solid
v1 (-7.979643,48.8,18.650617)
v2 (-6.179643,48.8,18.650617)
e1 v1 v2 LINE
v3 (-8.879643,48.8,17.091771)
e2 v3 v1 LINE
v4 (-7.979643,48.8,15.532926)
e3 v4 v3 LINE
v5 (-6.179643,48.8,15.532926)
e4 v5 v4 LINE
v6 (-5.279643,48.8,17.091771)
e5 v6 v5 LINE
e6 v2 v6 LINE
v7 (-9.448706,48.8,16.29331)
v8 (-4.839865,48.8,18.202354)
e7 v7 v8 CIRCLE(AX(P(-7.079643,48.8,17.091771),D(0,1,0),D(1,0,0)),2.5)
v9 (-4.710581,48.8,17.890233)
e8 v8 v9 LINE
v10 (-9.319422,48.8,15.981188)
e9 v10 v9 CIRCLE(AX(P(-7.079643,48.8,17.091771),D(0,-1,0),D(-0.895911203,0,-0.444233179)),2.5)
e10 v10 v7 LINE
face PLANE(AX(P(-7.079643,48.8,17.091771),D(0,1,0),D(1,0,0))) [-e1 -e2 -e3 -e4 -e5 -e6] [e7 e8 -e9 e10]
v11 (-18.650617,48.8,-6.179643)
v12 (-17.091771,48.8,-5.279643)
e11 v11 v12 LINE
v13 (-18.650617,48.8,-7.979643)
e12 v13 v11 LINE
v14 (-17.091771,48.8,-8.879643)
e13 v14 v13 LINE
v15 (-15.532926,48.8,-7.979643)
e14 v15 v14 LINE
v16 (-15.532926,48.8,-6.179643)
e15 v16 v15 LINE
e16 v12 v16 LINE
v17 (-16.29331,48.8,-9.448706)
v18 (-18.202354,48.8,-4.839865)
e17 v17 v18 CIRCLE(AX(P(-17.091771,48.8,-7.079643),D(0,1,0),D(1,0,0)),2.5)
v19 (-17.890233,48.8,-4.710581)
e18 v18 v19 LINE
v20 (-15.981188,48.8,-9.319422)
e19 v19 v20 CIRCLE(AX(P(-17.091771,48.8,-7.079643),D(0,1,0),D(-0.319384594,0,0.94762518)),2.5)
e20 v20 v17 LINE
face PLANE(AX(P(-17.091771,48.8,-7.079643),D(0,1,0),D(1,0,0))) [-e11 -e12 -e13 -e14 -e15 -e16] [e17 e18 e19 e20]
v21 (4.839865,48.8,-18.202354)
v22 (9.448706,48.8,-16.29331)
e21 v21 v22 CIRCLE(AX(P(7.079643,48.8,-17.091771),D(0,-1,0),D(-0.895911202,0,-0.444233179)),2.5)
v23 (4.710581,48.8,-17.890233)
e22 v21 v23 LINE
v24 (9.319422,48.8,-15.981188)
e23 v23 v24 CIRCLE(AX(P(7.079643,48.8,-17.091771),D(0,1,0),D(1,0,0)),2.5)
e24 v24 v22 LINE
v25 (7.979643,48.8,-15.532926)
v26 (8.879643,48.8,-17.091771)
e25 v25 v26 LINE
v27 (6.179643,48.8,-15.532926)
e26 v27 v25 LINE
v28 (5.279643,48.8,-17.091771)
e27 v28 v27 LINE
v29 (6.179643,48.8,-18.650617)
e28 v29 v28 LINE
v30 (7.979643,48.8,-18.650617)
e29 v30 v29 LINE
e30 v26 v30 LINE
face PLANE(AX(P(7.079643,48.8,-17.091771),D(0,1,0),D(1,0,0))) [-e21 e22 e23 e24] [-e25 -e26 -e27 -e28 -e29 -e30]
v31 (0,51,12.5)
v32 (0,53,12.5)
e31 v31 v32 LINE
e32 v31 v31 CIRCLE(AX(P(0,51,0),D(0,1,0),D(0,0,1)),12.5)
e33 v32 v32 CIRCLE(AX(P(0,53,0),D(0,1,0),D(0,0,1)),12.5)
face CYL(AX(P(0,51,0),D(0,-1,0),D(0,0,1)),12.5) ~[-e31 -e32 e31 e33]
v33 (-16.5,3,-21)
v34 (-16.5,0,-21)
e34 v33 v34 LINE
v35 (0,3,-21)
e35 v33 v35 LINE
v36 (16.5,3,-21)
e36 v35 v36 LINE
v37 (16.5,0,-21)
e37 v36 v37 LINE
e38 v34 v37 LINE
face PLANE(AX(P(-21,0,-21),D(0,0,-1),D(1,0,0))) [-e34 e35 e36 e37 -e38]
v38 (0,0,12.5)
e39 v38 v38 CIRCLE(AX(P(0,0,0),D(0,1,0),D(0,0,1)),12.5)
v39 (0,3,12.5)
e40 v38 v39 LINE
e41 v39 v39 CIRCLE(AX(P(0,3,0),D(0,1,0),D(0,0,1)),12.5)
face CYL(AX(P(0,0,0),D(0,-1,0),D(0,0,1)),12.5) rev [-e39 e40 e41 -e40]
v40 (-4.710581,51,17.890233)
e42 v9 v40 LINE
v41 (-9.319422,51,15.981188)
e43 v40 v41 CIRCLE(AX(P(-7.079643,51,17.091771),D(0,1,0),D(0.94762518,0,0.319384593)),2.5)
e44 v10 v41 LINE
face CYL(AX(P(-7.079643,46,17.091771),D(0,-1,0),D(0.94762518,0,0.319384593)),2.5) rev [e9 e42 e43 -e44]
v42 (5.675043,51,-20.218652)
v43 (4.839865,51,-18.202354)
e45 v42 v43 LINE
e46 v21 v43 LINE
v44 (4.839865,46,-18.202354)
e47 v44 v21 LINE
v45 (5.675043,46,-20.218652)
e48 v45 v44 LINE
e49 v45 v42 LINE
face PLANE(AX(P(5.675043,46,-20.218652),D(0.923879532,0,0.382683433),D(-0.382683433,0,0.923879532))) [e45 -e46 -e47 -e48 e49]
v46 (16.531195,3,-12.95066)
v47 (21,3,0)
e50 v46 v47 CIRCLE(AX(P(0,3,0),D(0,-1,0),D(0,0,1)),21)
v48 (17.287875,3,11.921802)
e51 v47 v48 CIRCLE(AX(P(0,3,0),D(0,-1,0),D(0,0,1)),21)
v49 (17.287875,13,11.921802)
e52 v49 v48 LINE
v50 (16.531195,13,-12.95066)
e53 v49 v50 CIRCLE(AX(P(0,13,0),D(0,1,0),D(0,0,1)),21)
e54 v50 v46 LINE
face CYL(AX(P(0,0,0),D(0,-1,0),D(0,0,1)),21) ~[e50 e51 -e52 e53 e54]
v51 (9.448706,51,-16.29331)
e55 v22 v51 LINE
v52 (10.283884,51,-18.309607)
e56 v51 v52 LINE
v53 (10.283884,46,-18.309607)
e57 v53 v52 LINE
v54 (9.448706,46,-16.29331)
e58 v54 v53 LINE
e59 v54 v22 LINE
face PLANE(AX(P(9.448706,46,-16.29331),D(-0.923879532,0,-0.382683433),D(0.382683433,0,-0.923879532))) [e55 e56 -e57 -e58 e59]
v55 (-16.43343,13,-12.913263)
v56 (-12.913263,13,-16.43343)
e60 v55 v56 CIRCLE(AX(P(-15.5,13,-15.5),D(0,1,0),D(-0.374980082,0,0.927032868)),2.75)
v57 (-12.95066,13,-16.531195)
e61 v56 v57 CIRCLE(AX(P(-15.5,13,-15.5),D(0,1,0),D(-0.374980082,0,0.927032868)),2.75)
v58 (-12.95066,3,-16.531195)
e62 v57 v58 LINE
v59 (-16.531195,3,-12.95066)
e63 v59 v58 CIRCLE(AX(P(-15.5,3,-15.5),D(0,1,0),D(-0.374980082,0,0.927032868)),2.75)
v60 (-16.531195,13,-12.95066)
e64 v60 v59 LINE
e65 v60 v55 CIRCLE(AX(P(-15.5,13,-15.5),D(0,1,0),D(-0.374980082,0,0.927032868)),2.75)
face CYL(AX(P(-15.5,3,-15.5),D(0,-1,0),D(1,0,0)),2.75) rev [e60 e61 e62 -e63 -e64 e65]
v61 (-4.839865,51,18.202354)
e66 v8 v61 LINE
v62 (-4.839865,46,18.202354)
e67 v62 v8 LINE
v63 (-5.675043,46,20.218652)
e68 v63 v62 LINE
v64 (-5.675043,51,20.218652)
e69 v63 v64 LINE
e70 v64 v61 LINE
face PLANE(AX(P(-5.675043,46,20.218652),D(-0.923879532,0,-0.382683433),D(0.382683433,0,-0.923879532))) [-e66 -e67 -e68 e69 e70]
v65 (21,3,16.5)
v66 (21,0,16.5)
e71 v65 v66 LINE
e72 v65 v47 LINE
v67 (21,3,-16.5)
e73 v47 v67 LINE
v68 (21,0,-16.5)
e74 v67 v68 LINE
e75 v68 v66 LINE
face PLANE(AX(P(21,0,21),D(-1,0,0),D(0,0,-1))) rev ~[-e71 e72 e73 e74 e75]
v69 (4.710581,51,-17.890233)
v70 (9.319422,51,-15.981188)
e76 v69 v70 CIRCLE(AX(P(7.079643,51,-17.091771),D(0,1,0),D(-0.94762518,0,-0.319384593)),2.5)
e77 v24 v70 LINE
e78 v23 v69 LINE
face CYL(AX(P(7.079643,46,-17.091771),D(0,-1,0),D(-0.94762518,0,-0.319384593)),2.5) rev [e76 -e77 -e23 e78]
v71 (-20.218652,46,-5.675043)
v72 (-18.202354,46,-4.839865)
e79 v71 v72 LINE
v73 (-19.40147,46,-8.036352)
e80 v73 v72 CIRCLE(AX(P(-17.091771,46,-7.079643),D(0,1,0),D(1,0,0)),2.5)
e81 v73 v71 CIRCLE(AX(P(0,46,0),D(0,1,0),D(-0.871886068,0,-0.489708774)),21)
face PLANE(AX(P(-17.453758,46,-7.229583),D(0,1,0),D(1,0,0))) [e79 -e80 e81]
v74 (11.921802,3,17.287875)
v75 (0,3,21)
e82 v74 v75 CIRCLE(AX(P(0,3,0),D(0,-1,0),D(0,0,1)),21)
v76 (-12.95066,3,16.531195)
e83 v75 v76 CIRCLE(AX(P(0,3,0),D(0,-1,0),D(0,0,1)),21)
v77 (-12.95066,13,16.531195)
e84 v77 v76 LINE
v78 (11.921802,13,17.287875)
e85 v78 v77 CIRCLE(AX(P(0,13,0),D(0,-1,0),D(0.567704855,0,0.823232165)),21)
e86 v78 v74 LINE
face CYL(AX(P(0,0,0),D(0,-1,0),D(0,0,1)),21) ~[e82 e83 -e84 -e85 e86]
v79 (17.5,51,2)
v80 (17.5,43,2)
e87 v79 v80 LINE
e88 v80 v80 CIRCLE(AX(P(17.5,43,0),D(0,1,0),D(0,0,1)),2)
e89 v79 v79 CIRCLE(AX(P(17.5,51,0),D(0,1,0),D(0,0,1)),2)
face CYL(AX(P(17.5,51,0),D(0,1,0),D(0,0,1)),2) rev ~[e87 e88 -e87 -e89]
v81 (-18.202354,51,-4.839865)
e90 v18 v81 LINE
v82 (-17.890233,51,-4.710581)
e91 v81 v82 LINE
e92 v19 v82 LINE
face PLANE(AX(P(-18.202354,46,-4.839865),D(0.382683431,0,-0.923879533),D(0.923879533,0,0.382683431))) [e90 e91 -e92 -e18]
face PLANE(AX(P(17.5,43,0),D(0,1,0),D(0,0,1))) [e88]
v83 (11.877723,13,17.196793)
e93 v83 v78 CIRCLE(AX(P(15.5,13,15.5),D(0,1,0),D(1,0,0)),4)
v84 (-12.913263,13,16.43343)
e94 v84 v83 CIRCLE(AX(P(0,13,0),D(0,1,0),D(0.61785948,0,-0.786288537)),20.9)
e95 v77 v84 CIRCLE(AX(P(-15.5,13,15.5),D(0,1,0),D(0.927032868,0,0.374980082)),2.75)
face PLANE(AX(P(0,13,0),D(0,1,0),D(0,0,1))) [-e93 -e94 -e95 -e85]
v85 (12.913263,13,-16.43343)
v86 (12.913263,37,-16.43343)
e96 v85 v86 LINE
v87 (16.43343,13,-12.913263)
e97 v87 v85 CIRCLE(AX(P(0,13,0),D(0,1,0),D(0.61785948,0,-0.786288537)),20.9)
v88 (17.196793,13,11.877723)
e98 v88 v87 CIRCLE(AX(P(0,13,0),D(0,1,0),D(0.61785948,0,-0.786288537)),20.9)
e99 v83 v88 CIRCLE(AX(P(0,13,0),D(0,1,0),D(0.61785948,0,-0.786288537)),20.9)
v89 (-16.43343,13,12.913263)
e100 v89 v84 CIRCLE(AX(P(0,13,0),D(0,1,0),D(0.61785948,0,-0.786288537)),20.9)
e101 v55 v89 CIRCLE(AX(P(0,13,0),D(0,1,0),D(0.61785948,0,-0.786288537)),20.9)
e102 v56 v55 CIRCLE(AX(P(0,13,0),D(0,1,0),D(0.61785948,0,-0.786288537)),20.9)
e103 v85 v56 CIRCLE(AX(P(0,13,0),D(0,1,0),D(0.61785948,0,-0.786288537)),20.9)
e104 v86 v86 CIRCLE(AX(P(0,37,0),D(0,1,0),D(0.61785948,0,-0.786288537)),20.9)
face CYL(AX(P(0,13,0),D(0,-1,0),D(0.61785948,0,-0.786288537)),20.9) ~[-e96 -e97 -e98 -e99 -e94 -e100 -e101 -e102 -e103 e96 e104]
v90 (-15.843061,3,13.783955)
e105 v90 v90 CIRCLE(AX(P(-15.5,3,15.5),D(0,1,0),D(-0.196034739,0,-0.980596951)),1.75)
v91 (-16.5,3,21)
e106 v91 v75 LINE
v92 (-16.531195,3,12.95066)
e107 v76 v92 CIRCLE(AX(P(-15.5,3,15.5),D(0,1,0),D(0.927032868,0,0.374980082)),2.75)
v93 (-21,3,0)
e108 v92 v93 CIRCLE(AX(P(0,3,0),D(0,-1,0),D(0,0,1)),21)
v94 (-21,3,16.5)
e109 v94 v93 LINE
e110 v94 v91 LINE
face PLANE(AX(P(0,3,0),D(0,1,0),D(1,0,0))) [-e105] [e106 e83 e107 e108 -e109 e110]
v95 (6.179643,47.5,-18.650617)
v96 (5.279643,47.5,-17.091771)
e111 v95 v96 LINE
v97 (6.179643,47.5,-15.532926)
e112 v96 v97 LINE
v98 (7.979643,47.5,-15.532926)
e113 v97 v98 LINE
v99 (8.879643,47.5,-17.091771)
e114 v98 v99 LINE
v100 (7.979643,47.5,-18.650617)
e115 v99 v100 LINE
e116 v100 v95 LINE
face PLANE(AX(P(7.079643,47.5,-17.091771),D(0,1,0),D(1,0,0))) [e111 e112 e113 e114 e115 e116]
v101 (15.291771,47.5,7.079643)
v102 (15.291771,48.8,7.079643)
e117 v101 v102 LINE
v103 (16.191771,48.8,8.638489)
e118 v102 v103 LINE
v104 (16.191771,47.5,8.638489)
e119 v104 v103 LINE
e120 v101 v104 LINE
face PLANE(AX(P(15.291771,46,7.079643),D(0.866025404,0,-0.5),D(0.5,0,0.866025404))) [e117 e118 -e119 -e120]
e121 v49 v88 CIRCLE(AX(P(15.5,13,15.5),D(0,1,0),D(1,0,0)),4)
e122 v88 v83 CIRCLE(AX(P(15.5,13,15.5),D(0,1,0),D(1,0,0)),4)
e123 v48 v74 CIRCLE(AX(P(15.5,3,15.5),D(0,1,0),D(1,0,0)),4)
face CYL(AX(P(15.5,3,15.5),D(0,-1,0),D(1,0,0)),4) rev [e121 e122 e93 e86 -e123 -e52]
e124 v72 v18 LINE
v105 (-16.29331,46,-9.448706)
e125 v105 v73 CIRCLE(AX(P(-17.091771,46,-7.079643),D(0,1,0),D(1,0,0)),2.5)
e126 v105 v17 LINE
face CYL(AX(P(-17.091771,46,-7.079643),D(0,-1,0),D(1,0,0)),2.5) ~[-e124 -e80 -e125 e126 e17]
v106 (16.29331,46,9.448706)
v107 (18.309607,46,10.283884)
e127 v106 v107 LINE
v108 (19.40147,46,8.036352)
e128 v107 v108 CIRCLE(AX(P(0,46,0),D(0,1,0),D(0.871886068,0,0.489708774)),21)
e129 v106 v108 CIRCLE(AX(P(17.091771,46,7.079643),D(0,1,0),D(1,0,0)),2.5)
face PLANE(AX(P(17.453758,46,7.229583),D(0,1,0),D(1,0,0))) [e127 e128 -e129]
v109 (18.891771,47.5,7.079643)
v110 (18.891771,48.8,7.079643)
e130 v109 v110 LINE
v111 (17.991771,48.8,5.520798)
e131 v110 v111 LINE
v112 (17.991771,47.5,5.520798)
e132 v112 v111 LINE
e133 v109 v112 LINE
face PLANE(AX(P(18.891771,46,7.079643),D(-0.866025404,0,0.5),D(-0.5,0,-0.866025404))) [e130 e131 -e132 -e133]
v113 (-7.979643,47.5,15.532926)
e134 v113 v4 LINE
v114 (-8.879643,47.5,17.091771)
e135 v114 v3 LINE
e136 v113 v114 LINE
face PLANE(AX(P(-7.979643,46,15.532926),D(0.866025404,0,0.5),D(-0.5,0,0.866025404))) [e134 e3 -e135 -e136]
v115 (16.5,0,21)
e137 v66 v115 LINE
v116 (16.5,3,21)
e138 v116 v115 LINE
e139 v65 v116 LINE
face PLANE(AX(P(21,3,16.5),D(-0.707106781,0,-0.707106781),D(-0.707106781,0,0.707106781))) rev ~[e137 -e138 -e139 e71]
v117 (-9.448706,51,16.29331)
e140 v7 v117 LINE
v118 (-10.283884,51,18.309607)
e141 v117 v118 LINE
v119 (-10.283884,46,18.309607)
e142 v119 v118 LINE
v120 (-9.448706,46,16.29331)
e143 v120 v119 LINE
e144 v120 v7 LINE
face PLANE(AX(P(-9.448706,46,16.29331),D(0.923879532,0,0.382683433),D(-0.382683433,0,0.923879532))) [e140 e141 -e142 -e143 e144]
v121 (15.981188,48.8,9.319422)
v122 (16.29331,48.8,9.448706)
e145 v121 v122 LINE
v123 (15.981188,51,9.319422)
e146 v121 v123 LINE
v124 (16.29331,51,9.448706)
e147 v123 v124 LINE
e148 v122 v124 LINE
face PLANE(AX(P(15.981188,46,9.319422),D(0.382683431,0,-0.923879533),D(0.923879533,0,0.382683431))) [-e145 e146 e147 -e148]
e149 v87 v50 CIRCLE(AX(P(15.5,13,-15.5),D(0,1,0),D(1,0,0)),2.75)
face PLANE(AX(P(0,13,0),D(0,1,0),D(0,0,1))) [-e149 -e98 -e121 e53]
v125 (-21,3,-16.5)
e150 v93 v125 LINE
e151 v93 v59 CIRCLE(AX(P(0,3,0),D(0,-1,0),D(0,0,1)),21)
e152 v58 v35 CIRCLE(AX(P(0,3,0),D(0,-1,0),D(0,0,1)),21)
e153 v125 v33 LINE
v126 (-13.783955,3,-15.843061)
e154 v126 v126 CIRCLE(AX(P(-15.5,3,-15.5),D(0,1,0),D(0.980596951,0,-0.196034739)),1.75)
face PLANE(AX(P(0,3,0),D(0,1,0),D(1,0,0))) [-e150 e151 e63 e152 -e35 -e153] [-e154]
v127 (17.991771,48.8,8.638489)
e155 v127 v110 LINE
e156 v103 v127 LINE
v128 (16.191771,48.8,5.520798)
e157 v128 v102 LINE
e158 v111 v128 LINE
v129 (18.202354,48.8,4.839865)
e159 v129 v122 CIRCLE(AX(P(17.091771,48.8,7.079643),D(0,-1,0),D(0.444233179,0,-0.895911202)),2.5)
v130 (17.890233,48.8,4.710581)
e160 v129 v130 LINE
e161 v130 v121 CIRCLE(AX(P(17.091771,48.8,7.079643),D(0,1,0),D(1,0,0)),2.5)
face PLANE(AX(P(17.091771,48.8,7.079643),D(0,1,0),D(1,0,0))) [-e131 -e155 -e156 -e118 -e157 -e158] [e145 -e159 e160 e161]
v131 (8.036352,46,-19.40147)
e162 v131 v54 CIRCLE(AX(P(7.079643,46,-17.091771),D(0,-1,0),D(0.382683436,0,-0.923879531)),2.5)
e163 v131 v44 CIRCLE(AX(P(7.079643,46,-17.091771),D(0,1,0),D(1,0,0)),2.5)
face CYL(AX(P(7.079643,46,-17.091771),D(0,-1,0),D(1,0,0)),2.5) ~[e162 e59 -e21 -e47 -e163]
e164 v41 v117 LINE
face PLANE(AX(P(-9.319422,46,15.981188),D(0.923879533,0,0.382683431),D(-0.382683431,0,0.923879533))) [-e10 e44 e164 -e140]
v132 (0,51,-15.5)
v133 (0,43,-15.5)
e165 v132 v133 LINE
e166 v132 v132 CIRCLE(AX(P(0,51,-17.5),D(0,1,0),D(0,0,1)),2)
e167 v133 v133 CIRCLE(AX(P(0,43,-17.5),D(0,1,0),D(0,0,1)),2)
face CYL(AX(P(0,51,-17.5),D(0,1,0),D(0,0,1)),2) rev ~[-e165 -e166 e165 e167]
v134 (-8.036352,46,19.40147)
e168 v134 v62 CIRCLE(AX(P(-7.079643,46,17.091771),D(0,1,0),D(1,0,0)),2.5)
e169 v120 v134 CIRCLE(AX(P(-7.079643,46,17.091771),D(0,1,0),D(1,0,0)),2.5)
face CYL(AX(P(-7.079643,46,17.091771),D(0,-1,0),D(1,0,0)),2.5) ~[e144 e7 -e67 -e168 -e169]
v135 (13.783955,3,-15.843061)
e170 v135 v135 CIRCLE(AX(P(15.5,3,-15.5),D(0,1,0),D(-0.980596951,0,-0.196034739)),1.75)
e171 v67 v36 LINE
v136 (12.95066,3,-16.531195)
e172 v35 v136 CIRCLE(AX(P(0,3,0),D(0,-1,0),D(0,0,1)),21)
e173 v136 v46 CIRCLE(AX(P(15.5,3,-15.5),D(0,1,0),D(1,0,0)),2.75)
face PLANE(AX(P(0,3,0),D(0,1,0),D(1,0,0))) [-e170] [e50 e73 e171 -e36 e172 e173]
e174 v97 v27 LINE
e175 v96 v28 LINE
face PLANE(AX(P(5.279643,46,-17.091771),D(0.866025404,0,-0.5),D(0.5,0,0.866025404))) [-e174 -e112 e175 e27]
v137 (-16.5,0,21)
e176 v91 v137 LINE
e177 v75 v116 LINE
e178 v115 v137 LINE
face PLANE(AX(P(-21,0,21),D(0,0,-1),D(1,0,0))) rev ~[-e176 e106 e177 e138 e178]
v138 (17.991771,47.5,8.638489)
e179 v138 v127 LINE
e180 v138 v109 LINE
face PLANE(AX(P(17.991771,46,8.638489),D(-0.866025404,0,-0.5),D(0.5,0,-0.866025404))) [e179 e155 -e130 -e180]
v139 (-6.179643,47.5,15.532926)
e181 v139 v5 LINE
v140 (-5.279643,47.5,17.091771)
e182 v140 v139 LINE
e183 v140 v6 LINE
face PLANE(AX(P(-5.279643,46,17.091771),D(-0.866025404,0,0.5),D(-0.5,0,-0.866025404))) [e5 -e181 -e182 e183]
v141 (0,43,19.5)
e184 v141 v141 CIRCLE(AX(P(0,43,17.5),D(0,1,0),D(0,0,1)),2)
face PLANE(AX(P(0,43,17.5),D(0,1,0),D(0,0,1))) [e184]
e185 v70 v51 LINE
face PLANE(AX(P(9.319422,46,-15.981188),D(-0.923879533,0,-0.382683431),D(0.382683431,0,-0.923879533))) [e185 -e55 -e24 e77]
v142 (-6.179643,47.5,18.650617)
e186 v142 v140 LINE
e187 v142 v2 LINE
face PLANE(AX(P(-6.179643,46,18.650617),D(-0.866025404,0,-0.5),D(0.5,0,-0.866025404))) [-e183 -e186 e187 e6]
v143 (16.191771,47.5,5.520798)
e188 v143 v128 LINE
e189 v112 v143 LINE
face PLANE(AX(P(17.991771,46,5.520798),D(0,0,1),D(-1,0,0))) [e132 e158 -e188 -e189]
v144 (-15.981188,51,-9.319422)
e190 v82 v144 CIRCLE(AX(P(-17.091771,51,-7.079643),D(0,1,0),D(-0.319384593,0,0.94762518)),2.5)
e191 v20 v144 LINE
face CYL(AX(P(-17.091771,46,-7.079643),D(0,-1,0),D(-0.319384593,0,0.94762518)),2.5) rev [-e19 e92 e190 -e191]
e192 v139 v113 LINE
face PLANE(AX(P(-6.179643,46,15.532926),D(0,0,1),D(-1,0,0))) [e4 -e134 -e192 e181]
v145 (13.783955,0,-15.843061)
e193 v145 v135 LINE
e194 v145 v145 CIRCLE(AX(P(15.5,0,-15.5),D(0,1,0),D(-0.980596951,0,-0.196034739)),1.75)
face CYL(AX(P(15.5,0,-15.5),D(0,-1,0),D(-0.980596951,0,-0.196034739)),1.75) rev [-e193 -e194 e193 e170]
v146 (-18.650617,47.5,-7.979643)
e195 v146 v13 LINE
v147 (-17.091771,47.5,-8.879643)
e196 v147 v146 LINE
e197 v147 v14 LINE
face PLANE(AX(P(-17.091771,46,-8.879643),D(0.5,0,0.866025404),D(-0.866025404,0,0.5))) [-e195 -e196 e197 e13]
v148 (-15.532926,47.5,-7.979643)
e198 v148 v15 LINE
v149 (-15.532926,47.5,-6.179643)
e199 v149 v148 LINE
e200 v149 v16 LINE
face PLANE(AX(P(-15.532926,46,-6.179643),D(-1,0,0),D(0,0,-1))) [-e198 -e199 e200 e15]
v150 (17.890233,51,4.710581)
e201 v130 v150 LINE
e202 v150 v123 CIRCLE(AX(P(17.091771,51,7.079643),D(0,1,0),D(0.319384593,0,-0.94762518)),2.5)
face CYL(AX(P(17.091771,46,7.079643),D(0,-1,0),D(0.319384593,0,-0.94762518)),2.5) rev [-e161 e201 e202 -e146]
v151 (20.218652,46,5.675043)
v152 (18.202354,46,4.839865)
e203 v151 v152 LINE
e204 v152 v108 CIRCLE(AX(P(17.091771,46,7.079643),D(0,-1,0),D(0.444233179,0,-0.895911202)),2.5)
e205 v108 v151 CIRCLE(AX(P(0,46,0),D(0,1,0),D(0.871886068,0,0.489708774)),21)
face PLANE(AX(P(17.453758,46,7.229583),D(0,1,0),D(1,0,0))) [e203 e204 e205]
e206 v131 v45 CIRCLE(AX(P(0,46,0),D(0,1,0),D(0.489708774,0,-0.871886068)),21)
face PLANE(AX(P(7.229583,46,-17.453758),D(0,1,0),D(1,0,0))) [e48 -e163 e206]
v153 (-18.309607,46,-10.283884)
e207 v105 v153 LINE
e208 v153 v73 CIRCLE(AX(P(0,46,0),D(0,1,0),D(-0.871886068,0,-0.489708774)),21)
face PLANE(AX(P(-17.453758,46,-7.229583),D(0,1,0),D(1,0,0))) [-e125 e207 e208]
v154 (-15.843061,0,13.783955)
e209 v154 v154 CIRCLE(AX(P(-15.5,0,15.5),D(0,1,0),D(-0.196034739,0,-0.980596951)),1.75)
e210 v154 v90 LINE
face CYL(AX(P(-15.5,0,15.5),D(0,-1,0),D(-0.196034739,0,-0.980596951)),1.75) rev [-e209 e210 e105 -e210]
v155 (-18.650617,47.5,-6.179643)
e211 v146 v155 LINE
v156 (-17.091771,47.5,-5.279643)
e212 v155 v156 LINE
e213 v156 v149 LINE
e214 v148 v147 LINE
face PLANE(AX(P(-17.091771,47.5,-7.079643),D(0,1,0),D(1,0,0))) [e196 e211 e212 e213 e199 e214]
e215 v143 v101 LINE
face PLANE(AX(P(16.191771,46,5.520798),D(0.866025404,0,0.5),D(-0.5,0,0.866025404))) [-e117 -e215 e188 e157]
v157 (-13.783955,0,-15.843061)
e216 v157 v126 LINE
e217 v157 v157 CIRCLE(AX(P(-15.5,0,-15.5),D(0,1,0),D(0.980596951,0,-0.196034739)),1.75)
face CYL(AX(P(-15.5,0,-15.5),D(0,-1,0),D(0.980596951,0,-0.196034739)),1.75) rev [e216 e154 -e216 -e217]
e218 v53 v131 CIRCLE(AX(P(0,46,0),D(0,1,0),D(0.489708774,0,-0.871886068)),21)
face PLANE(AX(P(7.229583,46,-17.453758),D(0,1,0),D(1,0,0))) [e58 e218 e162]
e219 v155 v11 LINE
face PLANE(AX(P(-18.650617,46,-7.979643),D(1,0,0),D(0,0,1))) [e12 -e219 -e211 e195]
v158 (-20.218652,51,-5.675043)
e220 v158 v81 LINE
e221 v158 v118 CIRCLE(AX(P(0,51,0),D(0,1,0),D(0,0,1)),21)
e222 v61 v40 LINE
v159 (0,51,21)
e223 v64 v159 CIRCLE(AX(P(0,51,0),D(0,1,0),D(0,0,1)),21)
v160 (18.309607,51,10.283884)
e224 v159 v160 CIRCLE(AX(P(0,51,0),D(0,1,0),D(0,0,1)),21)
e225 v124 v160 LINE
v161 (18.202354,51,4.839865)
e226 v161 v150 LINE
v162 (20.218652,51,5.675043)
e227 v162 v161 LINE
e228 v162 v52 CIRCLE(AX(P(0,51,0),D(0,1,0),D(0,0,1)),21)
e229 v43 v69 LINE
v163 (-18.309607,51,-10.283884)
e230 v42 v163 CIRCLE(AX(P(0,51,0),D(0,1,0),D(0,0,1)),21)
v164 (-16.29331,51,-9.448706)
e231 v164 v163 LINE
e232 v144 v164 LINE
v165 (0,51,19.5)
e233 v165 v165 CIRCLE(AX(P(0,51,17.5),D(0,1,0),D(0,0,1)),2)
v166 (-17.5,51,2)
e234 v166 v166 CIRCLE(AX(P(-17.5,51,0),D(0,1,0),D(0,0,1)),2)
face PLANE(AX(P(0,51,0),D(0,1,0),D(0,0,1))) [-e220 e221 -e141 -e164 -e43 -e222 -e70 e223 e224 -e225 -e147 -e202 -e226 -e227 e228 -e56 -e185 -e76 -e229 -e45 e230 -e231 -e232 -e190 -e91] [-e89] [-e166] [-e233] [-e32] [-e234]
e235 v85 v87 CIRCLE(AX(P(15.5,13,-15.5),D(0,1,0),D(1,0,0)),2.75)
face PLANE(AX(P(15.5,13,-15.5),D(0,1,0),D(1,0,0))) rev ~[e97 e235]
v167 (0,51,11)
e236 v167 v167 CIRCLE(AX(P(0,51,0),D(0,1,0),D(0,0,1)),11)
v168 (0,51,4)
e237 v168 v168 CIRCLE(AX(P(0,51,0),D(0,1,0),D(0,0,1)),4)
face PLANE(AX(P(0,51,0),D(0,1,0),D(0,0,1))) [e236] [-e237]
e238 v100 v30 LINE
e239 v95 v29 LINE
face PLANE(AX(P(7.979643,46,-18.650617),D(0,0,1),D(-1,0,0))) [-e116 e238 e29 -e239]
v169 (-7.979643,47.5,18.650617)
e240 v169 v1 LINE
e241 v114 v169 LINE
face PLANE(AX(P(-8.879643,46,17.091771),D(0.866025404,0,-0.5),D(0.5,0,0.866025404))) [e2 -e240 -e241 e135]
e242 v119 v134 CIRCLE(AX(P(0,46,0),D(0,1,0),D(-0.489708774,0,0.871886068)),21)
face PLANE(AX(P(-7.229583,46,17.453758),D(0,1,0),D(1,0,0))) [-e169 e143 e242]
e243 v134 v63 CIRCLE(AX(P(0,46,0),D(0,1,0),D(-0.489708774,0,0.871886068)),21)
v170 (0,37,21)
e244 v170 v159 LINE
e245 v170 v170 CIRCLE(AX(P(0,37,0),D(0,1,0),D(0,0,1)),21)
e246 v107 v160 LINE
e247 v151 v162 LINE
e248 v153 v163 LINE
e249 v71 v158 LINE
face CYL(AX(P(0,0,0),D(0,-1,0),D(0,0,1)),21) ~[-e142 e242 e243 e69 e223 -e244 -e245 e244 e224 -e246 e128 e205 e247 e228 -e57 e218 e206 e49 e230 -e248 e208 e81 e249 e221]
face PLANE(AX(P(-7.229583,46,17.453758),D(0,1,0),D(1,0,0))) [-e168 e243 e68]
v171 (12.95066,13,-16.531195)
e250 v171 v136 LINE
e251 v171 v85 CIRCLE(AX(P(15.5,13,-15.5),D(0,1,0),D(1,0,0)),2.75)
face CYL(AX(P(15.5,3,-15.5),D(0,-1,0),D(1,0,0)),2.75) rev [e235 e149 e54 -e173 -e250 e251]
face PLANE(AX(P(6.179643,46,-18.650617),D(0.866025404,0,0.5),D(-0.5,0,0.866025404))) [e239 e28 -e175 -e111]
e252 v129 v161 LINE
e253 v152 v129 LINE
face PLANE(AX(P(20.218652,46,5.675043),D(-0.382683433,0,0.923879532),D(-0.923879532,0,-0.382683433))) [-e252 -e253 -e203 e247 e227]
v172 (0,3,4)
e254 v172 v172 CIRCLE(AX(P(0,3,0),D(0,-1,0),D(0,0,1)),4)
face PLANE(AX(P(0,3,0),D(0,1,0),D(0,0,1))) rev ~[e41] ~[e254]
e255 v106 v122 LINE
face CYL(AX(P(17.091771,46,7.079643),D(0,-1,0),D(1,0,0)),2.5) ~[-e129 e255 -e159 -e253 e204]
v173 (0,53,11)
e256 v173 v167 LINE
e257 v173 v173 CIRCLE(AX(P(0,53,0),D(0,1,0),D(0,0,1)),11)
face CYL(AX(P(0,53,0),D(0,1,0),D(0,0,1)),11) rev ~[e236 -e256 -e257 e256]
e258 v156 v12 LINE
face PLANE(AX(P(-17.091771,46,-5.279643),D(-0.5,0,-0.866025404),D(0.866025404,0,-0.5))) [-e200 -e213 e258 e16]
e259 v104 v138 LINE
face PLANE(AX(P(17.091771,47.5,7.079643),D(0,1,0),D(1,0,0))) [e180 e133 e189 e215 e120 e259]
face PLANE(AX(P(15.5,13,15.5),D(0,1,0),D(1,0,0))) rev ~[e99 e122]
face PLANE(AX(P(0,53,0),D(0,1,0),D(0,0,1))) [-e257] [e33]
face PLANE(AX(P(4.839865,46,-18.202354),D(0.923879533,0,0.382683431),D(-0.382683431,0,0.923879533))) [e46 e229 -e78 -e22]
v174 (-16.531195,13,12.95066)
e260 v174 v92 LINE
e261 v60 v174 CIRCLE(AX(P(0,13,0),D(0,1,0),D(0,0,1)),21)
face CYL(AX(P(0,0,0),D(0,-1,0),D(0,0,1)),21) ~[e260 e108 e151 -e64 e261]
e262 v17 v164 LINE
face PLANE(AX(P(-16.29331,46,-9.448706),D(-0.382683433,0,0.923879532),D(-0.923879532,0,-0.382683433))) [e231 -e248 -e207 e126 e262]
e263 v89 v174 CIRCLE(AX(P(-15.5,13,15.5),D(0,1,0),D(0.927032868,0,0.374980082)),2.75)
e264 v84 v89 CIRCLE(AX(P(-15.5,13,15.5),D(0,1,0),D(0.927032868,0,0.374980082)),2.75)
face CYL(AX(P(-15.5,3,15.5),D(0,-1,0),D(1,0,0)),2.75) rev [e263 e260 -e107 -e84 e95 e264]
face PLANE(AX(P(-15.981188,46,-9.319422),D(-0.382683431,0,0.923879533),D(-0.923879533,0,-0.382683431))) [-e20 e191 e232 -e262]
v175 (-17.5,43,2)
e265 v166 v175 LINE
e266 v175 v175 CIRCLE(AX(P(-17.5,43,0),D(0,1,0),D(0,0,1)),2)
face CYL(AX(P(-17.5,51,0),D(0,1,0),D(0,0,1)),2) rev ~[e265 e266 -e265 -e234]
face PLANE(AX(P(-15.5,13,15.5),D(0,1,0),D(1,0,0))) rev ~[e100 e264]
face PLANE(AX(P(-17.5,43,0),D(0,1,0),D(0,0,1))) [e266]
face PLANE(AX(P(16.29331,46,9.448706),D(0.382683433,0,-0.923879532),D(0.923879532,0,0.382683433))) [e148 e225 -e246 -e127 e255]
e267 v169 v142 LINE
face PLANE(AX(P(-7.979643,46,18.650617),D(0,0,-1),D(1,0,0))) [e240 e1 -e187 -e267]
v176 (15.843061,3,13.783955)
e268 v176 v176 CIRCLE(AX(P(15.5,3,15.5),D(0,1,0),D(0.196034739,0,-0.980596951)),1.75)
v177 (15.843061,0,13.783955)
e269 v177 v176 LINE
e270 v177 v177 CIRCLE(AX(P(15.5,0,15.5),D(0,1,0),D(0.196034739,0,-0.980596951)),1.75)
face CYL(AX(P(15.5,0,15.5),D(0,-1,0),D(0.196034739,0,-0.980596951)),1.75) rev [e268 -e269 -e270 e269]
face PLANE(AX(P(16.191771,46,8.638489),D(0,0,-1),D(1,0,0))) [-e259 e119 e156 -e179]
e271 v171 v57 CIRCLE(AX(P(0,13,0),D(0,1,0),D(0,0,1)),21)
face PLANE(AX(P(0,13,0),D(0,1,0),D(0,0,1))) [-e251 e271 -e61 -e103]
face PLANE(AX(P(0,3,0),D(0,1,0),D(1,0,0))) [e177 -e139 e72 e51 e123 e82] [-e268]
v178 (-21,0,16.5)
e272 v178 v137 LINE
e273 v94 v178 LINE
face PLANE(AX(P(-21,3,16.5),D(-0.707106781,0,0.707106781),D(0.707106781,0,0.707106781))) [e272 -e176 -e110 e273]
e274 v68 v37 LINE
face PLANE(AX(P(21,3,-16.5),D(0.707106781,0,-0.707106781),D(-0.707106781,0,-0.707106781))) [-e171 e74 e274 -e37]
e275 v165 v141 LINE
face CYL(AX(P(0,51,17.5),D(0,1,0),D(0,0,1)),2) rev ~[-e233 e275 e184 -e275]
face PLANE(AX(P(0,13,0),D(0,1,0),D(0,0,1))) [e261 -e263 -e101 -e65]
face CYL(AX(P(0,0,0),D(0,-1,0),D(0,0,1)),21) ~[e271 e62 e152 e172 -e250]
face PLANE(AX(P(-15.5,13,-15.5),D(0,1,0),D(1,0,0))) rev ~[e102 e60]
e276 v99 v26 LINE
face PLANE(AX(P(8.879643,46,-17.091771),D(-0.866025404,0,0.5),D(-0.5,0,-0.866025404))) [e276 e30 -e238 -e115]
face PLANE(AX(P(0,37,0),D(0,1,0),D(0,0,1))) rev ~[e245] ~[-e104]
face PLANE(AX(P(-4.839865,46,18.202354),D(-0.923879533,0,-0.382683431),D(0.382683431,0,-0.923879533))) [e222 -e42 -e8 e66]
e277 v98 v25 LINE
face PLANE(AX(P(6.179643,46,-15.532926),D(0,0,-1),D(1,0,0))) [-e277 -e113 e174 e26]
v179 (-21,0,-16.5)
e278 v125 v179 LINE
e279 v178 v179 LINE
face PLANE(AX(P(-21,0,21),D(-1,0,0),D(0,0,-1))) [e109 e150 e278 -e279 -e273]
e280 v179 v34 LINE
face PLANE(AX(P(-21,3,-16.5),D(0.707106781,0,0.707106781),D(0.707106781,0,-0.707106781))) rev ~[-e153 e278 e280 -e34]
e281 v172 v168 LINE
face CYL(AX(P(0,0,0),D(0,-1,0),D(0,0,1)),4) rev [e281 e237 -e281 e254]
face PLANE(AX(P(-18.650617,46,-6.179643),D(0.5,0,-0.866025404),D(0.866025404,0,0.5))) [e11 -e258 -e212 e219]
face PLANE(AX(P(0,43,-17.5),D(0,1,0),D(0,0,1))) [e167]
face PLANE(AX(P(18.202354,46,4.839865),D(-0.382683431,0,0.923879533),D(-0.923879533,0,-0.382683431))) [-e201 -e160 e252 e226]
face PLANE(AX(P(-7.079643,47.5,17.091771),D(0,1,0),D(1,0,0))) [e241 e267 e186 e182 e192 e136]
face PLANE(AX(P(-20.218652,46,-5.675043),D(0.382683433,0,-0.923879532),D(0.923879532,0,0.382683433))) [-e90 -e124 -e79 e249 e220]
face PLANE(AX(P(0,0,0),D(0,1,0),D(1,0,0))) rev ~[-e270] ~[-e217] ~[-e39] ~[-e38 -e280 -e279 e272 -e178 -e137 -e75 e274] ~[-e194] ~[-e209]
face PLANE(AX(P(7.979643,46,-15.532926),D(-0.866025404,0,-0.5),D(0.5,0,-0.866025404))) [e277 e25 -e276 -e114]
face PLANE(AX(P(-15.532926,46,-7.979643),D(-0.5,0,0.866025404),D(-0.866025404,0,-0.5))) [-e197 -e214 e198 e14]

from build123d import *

# Parameters (mm, degrees)
SKETCH_1_W           = 42
SKETCH_1_H           = 42
EXTRUDE_1_DEPTH      = 3
CUT_EXTRUDE_START    = 3
CUT_EXTRUDE_1_DEPTH  = 3
SKETCH_3_R           = 21
EXTRUDE_2_DEPTH      = 51
SKETCH_5_R           = 1.75
CUT_EXTRUDE_3_DEPTH  = 3
SKETCH_7_R           = 2.75
SKETCH_7_R_2         = 4
CUT_EXTRUDE_4_DEPTH  = 10
CUT_EXTRUDE_START_2  = 13
SKETCH_8_R           = 21
SKETCH_8_R_2         = 20.9
CUT_EXTRUDE_5_DEPTH  = 24
EXTRUDE_START        = 51
SKETCH_9_R           = 12.5
EXTRUDE_3_DEPTH      = 2
CUT_EXTRUDE_START_3  = 53
SKETCH_16_R          = 11
CUT_EXTRUDE_6_DEPTH  = 2
CUT_EXTRUDE_START_4  = 46
CUT_EXTRUDE_7_DEPTH  = 5
EXTRUDE_START_2      = 46
SKETCH_18_R          = 2.5
EXTRUDE_5_DEPTH      = 2.8
SKETCH_19_R          = 4
CUT_EXTRUDE_8_DEPTH  = 51
EXTRUDE_6_DEPTH      = 1.5
SKETCH_21_R          = 12.5
CUT_EXTRUDE_9_DEPTH  = 3
CUT_EXTRUDE_START_5  = 51
SKETCH_11_R          = 2
CUT_EXTRUDE_11_DEPTH = 8


with BuildPart() as part:
    # 草图1 → 凸台-拉伸1 (new body)
    with BuildSketch(Plane(origin=(0, 0, 0), x_dir=(1, 0, 0), z_dir=(0, 1, 0))):
        Rectangle(SKETCH_1_W, SKETCH_1_H)
    extrude(amount=EXTRUDE_1_DEPTH)

    # 草图2 → 切除-拉伸1 (cut)
    with BuildSketch(Plane(origin=(0, 0, 0), x_dir=(1, 0, 0), z_dir=(0, 1, 0)).offset(CUT_EXTRUDE_START)):
        Polygon((-21, 21), (-21, 16.5), (-16.5, 21), align=None)
        Polygon((16.5, 21), (21, 21), (21, 16.5), align=None)
        Polygon((21, -21), (21, -16.5), (16.5, -21), align=None)
        Polygon((-16.5, -21), (-21, -21), (-21, -16.5), align=None)
    extrude(amount=-CUT_EXTRUDE_1_DEPTH, mode=Mode.SUBTRACT)

    # 草图3 → 凸台-拉伸2 (add)
    with BuildSketch(Plane(origin=(0, 0, 0), x_dir=(1, 0, 0), z_dir=(0, 1, 0))):
        with Locations(Location((0, 0, 0), (0, 0, 270))):
            Circle(SKETCH_3_R)
    extrude(amount=EXTRUDE_2_DEPTH)

    # 草图5 → 切除-拉伸3 (cut)
    with BuildSketch(Plane(origin=(0, 0, 0), x_dir=(1, 0, 0), z_dir=(0, 1, 0))):
        with Locations(Location((-15.5, 15.5, 0), (0, 0, 11.30517652))):
            Circle(SKETCH_5_R)
        with Locations(Location((15.5, 15.5, 0), (0, 0, 168.69482348))):
            Circle(SKETCH_5_R)
        with Locations(Location((-15.5, -15.5, 0), (0, 0, 101.30517652))):
            Circle(SKETCH_5_R)
        with Locations(Location((15.5, -15.5, 0), (0, 0, 78.69482348))):
            Circle(SKETCH_5_R)
    extrude(amount=CUT_EXTRUDE_3_DEPTH, mode=Mode.SUBTRACT)

    # 草图7 → 切除-拉伸4 (cut)
    with BuildSketch(Plane(origin=(0, 0, 0), x_dir=(1, 0, 0), z_dir=(0, 1, 0)).offset(CUT_EXTRUDE_START)):
        with Locations((-15.5, 15.5)):
            Circle(SKETCH_7_R)
        with Locations((15.5, 15.5)):
            Circle(SKETCH_7_R)
        with Locations((-15.5, -15.5)):
            Circle(SKETCH_7_R)
        with Locations((15.5, -15.5)):
            Circle(SKETCH_7_R_2)
    extrude(amount=CUT_EXTRUDE_4_DEPTH, mode=Mode.SUBTRACT)

    # 草图8 → 切除-拉伸5 (cut)
    with BuildSketch(Plane(origin=(0, 0, 0), x_dir=(1, 0, 0), z_dir=(0, 1, 0)).offset(CUT_EXTRUDE_START_2)):
        with Locations(Location((0, 0, 0), (0, 0, 270))):
            Circle(SKETCH_8_R)
        with Locations(Location((0, 0, 0), (0, 0, 51.840009715))):
            Circle(SKETCH_8_R_2, mode=Mode.SUBTRACT)
    extrude(amount=CUT_EXTRUDE_5_DEPTH, mode=Mode.SUBTRACT)

    # 草图9 → 凸台-拉伸3 (add)
    with BuildSketch(Plane(origin=(0, 0, 0), x_dir=(1, 0, 0), z_dir=(0, 1, 0)).offset(EXTRUDE_START)):
        with Locations(Location((0, 0, 0), (0, 0, 270))):
            Circle(SKETCH_9_R)
    extrude(amount=EXTRUDE_3_DEPTH)

    # 草图16 → 切除-拉伸6 (cut)
    with BuildSketch(Plane(origin=(0, 0, 0), x_dir=(1, 0, 0), z_dir=(0, 1, 0)).offset(CUT_EXTRUDE_START_3)):
        with Locations(Location((0, 0, 0), (0, 0, 270))):
            Circle(SKETCH_16_R)
    extrude(amount=-CUT_EXTRUDE_6_DEPTH, mode=Mode.SUBTRACT)

    # 草图17 → 切除-拉伸7 (cut)
    with BuildSketch(Plane(origin=(0, 0, 0), x_dir=(1, 0, 0), z_dir=(0, 1, 0)).offset(CUT_EXTRUDE_START_4)):
        with BuildLine():
            Line((16.293309868, -9.448706448), (18.309607443, -10.28388425))
            ThreePointArc((18.309607443, -10.28388425), (19.401470183, -8.03635208), (20.218651874, -5.675043294))
            Line((20.218651874, -5.675043294), (18.202354299, -4.839865492))
            Line((18.202354299, -4.839865492), (17.890232835, -4.710580549))
            ThreePointArc((17.890232835, -4.710580549), (14.78207252, -6.122934918), (15.981188404, -9.319421505))
            Line((15.981188404, -9.319421505), (16.293309868, -9.448706448))
        make_face()
        with BuildLine():
            Line((-4.839865492, -18.202354299), (-4.710580549, -17.890232835))
            ThreePointArc((-4.710580549, -17.890232835), (-6.122934918, -14.78207252), (-9.319421505, -15.981188404))
            Line((-9.319421505, -15.981188404), (-9.448706448, -16.293309868))
            Line((-9.448706448, -16.293309868), (-10.28388425, -18.309607443))
            ThreePointArc((-10.28388425, -18.309607443), (-8.03635208, -19.401470183), (-5.675043294, -20.218651874))
            Line((-5.675043294, -20.218651874), (-4.839865492, -18.202354299))
        make_face()
        with BuildLine():
            Line((-16.293309868, 9.448706448), (-18.309607443, 10.28388425))
            ThreePointArc((-18.309607443, 10.28388425), (-19.401470183, 8.03635208), (-20.218651874, 5.675043294))
            Line((-20.218651874, 5.675043294), (-18.202354299, 4.839865492))
            Line((-18.202354299, 4.839865492), (-17.890232835, 4.710580549))
            ThreePointArc((-17.890232835, 4.710580549), (-14.78207252, 6.122934918), (-15.981188404, 9.319421505))
            Line((-15.981188404, 9.319421505), (-16.293309868, 9.448706448))
        make_face()
        with BuildLine():
            Line((4.839865492, 18.202354299), (4.710580549, 17.890232835))
            ThreePointArc((4.710580549, 17.890232835), (6.122934918, 14.78207252), (9.319421505, 15.981188404))
            Line((9.319421505, 15.981188404), (9.448706448, 16.293309868))
            Line((9.448706448, 16.293309868), (10.28388425, 18.309607443))
            ThreePointArc((10.28388425, 18.309607443), (8.03635208, 19.401470183), (5.675043294, 20.218651874))
            Line((5.675043294, 20.218651874), (4.839865492, 18.202354299))
        make_face()
    extrude(amount=CUT_EXTRUDE_7_DEPTH, mode=Mode.SUBTRACT)

    # 草图18 → 凸台-拉伸5 (add)
    # profile 1 of 4: a face of its own
    with BuildSketch(Plane(origin=(0, 0, 0), x_dir=(1, 0, 0), z_dir=(0, 1, 0)).offset(EXTRUDE_START_2)):
        with Locations((-17.091771351, 7.079643499)):
            Circle(SKETCH_18_R)
        Polygon((-15.532925625, 7.979643499), (-17.091771351, 8.879643499), (-18.650617078, 7.979643499), (-18.650617078, 6.179643499), (-17.091771351, 5.279643499), (-15.532925625, 6.179643499), align=None, mode=Mode.SUBTRACT)
    # profile 2 of 4: a face of its own
    with BuildSketch(Plane(origin=(0, 0, 0), x_dir=(1, 0, 0), z_dir=(0, 1, 0)).offset(EXTRUDE_START_2)):
        with Locations((-7.079643499, -17.091771351)):
            Circle(SKETCH_18_R)
        Polygon((-6.179643499, -18.650617078), (-5.279643499, -17.091771351), (-6.179643499, -15.532925625), (-7.979643499, -15.532925625), (-8.879643499, -17.091771351), (-7.979643499, -18.650617078), align=None, mode=Mode.SUBTRACT)
    # profile 3 of 4: a face of its own
    with BuildSketch(Plane(origin=(0, 0, 0), x_dir=(1, 0, 0), z_dir=(0, 1, 0)).offset(EXTRUDE_START_2)):
        with Locations((17.091771351, -7.079643499)):
            Circle(SKETCH_18_R)
        Polygon((18.891771351, -7.079643499), (17.991771351, -5.520797772), (16.191771351, -5.520797772), (15.291771351, -7.079643499), (16.191771351, -8.638489226), (17.991771351, -8.638489226), align=None, mode=Mode.SUBTRACT)
    # profile 4 of 4: a face of its own
    with BuildSketch(Plane(origin=(0, 0, 0), x_dir=(1, 0, 0), z_dir=(0, 1, 0)).offset(EXTRUDE_START_2)):
        with Locations((7.079643499, 17.091771351)):
            Circle(SKETCH_18_R)
        Polygon((7.979643499, 15.532925625), (8.879643499, 17.091771351), (7.979643499, 18.650617078), (6.179643499, 18.650617078), (5.279643499, 17.091771351), (6.179643499, 15.532925625), align=None, mode=Mode.SUBTRACT)
    extrude(amount=EXTRUDE_5_DEPTH)

    # 草图19 → 切除-拉伸8 (cut)
    with BuildSketch(Plane(origin=(0, 0, 0), x_dir=(1, 0, 0), z_dir=(0, 1, 0))):
        with Locations(Location((0, 0, 0), (0, 0, 270))):
            Circle(SKETCH_19_R)
    extrude(amount=CUT_EXTRUDE_8_DEPTH, mode=Mode.SUBTRACT)

    # 草图20 → 凸台-拉伸6 (add)
    with BuildSketch(Plane(origin=(0, 0, 0), x_dir=(1, 0, 0), z_dir=(0, 1, 0)).offset(EXTRUDE_START_2)):
        Polygon((7.979643499, 18.650617078), (6.179643499, 18.650617078), (5.279643499, 17.091771351), (6.179643499, 15.532925625), (7.979643499, 15.532925625), (8.879643499, 17.091771351), align=None)
        Polygon((16.191771351, -5.520797772), (15.291771351, -7.079643499), (16.191771351, -8.638489226), (17.991771351, -8.638489226), (18.891771351, -7.079643499), (17.991771351, -5.520797772), align=None)
        Polygon((-6.179643499, -15.532925625), (-7.979643499, -15.532925625), (-8.879643499, -17.091771351), (-7.979643499, -18.650617078), (-6.179643499, -18.650617078), (-5.279643499, -17.091771351), align=None)
        Polygon((-18.650617078, 7.979643499), (-18.650617078, 6.179643499), (-17.091771351, 5.279643499), (-15.532925625, 6.179643499), (-15.532925625, 7.979643499), (-17.091771351, 8.879643499), align=None)
    extrude(amount=EXTRUDE_6_DEPTH)

    # 草图21 → 切除-拉伸9 (cut)
    with BuildSketch(Plane(origin=(0, 0, 0), x_dir=(1, 0, 0), z_dir=(0, 1, 0))):
        with Locations(Location((0, 0, 0), (0, 0, 270))):
            Circle(SKETCH_21_R)
    extrude(amount=CUT_EXTRUDE_9_DEPTH, mode=Mode.SUBTRACT)

    # 草图11 → 切除-拉伸11 (cut)
    with BuildSketch(Plane(origin=(0, 0, 0), x_dir=(1, 0, 0), z_dir=(0, 1, 0)).offset(CUT_EXTRUDE_START_5)):
        with Locations(Location((-17.5, 0, 0), (0, 0, 270))):
            Circle(SKETCH_11_R)
        with Locations(Location((0, -17.5, 0), (0, 0, 270))):
            Circle(SKETCH_11_R)
        with Locations(Location((17.5, 0, 0), (0, 0, 270))):
            Circle(SKETCH_11_R)
        with Locations(Location((0, 17.5, 0), (0, 0, 270))):
            Circle(SKETCH_11_R)
    extrude(amount=-CUT_EXTRUDE_11_DEPTH, mode=Mode.SUBTRACT)


solid = part.part
